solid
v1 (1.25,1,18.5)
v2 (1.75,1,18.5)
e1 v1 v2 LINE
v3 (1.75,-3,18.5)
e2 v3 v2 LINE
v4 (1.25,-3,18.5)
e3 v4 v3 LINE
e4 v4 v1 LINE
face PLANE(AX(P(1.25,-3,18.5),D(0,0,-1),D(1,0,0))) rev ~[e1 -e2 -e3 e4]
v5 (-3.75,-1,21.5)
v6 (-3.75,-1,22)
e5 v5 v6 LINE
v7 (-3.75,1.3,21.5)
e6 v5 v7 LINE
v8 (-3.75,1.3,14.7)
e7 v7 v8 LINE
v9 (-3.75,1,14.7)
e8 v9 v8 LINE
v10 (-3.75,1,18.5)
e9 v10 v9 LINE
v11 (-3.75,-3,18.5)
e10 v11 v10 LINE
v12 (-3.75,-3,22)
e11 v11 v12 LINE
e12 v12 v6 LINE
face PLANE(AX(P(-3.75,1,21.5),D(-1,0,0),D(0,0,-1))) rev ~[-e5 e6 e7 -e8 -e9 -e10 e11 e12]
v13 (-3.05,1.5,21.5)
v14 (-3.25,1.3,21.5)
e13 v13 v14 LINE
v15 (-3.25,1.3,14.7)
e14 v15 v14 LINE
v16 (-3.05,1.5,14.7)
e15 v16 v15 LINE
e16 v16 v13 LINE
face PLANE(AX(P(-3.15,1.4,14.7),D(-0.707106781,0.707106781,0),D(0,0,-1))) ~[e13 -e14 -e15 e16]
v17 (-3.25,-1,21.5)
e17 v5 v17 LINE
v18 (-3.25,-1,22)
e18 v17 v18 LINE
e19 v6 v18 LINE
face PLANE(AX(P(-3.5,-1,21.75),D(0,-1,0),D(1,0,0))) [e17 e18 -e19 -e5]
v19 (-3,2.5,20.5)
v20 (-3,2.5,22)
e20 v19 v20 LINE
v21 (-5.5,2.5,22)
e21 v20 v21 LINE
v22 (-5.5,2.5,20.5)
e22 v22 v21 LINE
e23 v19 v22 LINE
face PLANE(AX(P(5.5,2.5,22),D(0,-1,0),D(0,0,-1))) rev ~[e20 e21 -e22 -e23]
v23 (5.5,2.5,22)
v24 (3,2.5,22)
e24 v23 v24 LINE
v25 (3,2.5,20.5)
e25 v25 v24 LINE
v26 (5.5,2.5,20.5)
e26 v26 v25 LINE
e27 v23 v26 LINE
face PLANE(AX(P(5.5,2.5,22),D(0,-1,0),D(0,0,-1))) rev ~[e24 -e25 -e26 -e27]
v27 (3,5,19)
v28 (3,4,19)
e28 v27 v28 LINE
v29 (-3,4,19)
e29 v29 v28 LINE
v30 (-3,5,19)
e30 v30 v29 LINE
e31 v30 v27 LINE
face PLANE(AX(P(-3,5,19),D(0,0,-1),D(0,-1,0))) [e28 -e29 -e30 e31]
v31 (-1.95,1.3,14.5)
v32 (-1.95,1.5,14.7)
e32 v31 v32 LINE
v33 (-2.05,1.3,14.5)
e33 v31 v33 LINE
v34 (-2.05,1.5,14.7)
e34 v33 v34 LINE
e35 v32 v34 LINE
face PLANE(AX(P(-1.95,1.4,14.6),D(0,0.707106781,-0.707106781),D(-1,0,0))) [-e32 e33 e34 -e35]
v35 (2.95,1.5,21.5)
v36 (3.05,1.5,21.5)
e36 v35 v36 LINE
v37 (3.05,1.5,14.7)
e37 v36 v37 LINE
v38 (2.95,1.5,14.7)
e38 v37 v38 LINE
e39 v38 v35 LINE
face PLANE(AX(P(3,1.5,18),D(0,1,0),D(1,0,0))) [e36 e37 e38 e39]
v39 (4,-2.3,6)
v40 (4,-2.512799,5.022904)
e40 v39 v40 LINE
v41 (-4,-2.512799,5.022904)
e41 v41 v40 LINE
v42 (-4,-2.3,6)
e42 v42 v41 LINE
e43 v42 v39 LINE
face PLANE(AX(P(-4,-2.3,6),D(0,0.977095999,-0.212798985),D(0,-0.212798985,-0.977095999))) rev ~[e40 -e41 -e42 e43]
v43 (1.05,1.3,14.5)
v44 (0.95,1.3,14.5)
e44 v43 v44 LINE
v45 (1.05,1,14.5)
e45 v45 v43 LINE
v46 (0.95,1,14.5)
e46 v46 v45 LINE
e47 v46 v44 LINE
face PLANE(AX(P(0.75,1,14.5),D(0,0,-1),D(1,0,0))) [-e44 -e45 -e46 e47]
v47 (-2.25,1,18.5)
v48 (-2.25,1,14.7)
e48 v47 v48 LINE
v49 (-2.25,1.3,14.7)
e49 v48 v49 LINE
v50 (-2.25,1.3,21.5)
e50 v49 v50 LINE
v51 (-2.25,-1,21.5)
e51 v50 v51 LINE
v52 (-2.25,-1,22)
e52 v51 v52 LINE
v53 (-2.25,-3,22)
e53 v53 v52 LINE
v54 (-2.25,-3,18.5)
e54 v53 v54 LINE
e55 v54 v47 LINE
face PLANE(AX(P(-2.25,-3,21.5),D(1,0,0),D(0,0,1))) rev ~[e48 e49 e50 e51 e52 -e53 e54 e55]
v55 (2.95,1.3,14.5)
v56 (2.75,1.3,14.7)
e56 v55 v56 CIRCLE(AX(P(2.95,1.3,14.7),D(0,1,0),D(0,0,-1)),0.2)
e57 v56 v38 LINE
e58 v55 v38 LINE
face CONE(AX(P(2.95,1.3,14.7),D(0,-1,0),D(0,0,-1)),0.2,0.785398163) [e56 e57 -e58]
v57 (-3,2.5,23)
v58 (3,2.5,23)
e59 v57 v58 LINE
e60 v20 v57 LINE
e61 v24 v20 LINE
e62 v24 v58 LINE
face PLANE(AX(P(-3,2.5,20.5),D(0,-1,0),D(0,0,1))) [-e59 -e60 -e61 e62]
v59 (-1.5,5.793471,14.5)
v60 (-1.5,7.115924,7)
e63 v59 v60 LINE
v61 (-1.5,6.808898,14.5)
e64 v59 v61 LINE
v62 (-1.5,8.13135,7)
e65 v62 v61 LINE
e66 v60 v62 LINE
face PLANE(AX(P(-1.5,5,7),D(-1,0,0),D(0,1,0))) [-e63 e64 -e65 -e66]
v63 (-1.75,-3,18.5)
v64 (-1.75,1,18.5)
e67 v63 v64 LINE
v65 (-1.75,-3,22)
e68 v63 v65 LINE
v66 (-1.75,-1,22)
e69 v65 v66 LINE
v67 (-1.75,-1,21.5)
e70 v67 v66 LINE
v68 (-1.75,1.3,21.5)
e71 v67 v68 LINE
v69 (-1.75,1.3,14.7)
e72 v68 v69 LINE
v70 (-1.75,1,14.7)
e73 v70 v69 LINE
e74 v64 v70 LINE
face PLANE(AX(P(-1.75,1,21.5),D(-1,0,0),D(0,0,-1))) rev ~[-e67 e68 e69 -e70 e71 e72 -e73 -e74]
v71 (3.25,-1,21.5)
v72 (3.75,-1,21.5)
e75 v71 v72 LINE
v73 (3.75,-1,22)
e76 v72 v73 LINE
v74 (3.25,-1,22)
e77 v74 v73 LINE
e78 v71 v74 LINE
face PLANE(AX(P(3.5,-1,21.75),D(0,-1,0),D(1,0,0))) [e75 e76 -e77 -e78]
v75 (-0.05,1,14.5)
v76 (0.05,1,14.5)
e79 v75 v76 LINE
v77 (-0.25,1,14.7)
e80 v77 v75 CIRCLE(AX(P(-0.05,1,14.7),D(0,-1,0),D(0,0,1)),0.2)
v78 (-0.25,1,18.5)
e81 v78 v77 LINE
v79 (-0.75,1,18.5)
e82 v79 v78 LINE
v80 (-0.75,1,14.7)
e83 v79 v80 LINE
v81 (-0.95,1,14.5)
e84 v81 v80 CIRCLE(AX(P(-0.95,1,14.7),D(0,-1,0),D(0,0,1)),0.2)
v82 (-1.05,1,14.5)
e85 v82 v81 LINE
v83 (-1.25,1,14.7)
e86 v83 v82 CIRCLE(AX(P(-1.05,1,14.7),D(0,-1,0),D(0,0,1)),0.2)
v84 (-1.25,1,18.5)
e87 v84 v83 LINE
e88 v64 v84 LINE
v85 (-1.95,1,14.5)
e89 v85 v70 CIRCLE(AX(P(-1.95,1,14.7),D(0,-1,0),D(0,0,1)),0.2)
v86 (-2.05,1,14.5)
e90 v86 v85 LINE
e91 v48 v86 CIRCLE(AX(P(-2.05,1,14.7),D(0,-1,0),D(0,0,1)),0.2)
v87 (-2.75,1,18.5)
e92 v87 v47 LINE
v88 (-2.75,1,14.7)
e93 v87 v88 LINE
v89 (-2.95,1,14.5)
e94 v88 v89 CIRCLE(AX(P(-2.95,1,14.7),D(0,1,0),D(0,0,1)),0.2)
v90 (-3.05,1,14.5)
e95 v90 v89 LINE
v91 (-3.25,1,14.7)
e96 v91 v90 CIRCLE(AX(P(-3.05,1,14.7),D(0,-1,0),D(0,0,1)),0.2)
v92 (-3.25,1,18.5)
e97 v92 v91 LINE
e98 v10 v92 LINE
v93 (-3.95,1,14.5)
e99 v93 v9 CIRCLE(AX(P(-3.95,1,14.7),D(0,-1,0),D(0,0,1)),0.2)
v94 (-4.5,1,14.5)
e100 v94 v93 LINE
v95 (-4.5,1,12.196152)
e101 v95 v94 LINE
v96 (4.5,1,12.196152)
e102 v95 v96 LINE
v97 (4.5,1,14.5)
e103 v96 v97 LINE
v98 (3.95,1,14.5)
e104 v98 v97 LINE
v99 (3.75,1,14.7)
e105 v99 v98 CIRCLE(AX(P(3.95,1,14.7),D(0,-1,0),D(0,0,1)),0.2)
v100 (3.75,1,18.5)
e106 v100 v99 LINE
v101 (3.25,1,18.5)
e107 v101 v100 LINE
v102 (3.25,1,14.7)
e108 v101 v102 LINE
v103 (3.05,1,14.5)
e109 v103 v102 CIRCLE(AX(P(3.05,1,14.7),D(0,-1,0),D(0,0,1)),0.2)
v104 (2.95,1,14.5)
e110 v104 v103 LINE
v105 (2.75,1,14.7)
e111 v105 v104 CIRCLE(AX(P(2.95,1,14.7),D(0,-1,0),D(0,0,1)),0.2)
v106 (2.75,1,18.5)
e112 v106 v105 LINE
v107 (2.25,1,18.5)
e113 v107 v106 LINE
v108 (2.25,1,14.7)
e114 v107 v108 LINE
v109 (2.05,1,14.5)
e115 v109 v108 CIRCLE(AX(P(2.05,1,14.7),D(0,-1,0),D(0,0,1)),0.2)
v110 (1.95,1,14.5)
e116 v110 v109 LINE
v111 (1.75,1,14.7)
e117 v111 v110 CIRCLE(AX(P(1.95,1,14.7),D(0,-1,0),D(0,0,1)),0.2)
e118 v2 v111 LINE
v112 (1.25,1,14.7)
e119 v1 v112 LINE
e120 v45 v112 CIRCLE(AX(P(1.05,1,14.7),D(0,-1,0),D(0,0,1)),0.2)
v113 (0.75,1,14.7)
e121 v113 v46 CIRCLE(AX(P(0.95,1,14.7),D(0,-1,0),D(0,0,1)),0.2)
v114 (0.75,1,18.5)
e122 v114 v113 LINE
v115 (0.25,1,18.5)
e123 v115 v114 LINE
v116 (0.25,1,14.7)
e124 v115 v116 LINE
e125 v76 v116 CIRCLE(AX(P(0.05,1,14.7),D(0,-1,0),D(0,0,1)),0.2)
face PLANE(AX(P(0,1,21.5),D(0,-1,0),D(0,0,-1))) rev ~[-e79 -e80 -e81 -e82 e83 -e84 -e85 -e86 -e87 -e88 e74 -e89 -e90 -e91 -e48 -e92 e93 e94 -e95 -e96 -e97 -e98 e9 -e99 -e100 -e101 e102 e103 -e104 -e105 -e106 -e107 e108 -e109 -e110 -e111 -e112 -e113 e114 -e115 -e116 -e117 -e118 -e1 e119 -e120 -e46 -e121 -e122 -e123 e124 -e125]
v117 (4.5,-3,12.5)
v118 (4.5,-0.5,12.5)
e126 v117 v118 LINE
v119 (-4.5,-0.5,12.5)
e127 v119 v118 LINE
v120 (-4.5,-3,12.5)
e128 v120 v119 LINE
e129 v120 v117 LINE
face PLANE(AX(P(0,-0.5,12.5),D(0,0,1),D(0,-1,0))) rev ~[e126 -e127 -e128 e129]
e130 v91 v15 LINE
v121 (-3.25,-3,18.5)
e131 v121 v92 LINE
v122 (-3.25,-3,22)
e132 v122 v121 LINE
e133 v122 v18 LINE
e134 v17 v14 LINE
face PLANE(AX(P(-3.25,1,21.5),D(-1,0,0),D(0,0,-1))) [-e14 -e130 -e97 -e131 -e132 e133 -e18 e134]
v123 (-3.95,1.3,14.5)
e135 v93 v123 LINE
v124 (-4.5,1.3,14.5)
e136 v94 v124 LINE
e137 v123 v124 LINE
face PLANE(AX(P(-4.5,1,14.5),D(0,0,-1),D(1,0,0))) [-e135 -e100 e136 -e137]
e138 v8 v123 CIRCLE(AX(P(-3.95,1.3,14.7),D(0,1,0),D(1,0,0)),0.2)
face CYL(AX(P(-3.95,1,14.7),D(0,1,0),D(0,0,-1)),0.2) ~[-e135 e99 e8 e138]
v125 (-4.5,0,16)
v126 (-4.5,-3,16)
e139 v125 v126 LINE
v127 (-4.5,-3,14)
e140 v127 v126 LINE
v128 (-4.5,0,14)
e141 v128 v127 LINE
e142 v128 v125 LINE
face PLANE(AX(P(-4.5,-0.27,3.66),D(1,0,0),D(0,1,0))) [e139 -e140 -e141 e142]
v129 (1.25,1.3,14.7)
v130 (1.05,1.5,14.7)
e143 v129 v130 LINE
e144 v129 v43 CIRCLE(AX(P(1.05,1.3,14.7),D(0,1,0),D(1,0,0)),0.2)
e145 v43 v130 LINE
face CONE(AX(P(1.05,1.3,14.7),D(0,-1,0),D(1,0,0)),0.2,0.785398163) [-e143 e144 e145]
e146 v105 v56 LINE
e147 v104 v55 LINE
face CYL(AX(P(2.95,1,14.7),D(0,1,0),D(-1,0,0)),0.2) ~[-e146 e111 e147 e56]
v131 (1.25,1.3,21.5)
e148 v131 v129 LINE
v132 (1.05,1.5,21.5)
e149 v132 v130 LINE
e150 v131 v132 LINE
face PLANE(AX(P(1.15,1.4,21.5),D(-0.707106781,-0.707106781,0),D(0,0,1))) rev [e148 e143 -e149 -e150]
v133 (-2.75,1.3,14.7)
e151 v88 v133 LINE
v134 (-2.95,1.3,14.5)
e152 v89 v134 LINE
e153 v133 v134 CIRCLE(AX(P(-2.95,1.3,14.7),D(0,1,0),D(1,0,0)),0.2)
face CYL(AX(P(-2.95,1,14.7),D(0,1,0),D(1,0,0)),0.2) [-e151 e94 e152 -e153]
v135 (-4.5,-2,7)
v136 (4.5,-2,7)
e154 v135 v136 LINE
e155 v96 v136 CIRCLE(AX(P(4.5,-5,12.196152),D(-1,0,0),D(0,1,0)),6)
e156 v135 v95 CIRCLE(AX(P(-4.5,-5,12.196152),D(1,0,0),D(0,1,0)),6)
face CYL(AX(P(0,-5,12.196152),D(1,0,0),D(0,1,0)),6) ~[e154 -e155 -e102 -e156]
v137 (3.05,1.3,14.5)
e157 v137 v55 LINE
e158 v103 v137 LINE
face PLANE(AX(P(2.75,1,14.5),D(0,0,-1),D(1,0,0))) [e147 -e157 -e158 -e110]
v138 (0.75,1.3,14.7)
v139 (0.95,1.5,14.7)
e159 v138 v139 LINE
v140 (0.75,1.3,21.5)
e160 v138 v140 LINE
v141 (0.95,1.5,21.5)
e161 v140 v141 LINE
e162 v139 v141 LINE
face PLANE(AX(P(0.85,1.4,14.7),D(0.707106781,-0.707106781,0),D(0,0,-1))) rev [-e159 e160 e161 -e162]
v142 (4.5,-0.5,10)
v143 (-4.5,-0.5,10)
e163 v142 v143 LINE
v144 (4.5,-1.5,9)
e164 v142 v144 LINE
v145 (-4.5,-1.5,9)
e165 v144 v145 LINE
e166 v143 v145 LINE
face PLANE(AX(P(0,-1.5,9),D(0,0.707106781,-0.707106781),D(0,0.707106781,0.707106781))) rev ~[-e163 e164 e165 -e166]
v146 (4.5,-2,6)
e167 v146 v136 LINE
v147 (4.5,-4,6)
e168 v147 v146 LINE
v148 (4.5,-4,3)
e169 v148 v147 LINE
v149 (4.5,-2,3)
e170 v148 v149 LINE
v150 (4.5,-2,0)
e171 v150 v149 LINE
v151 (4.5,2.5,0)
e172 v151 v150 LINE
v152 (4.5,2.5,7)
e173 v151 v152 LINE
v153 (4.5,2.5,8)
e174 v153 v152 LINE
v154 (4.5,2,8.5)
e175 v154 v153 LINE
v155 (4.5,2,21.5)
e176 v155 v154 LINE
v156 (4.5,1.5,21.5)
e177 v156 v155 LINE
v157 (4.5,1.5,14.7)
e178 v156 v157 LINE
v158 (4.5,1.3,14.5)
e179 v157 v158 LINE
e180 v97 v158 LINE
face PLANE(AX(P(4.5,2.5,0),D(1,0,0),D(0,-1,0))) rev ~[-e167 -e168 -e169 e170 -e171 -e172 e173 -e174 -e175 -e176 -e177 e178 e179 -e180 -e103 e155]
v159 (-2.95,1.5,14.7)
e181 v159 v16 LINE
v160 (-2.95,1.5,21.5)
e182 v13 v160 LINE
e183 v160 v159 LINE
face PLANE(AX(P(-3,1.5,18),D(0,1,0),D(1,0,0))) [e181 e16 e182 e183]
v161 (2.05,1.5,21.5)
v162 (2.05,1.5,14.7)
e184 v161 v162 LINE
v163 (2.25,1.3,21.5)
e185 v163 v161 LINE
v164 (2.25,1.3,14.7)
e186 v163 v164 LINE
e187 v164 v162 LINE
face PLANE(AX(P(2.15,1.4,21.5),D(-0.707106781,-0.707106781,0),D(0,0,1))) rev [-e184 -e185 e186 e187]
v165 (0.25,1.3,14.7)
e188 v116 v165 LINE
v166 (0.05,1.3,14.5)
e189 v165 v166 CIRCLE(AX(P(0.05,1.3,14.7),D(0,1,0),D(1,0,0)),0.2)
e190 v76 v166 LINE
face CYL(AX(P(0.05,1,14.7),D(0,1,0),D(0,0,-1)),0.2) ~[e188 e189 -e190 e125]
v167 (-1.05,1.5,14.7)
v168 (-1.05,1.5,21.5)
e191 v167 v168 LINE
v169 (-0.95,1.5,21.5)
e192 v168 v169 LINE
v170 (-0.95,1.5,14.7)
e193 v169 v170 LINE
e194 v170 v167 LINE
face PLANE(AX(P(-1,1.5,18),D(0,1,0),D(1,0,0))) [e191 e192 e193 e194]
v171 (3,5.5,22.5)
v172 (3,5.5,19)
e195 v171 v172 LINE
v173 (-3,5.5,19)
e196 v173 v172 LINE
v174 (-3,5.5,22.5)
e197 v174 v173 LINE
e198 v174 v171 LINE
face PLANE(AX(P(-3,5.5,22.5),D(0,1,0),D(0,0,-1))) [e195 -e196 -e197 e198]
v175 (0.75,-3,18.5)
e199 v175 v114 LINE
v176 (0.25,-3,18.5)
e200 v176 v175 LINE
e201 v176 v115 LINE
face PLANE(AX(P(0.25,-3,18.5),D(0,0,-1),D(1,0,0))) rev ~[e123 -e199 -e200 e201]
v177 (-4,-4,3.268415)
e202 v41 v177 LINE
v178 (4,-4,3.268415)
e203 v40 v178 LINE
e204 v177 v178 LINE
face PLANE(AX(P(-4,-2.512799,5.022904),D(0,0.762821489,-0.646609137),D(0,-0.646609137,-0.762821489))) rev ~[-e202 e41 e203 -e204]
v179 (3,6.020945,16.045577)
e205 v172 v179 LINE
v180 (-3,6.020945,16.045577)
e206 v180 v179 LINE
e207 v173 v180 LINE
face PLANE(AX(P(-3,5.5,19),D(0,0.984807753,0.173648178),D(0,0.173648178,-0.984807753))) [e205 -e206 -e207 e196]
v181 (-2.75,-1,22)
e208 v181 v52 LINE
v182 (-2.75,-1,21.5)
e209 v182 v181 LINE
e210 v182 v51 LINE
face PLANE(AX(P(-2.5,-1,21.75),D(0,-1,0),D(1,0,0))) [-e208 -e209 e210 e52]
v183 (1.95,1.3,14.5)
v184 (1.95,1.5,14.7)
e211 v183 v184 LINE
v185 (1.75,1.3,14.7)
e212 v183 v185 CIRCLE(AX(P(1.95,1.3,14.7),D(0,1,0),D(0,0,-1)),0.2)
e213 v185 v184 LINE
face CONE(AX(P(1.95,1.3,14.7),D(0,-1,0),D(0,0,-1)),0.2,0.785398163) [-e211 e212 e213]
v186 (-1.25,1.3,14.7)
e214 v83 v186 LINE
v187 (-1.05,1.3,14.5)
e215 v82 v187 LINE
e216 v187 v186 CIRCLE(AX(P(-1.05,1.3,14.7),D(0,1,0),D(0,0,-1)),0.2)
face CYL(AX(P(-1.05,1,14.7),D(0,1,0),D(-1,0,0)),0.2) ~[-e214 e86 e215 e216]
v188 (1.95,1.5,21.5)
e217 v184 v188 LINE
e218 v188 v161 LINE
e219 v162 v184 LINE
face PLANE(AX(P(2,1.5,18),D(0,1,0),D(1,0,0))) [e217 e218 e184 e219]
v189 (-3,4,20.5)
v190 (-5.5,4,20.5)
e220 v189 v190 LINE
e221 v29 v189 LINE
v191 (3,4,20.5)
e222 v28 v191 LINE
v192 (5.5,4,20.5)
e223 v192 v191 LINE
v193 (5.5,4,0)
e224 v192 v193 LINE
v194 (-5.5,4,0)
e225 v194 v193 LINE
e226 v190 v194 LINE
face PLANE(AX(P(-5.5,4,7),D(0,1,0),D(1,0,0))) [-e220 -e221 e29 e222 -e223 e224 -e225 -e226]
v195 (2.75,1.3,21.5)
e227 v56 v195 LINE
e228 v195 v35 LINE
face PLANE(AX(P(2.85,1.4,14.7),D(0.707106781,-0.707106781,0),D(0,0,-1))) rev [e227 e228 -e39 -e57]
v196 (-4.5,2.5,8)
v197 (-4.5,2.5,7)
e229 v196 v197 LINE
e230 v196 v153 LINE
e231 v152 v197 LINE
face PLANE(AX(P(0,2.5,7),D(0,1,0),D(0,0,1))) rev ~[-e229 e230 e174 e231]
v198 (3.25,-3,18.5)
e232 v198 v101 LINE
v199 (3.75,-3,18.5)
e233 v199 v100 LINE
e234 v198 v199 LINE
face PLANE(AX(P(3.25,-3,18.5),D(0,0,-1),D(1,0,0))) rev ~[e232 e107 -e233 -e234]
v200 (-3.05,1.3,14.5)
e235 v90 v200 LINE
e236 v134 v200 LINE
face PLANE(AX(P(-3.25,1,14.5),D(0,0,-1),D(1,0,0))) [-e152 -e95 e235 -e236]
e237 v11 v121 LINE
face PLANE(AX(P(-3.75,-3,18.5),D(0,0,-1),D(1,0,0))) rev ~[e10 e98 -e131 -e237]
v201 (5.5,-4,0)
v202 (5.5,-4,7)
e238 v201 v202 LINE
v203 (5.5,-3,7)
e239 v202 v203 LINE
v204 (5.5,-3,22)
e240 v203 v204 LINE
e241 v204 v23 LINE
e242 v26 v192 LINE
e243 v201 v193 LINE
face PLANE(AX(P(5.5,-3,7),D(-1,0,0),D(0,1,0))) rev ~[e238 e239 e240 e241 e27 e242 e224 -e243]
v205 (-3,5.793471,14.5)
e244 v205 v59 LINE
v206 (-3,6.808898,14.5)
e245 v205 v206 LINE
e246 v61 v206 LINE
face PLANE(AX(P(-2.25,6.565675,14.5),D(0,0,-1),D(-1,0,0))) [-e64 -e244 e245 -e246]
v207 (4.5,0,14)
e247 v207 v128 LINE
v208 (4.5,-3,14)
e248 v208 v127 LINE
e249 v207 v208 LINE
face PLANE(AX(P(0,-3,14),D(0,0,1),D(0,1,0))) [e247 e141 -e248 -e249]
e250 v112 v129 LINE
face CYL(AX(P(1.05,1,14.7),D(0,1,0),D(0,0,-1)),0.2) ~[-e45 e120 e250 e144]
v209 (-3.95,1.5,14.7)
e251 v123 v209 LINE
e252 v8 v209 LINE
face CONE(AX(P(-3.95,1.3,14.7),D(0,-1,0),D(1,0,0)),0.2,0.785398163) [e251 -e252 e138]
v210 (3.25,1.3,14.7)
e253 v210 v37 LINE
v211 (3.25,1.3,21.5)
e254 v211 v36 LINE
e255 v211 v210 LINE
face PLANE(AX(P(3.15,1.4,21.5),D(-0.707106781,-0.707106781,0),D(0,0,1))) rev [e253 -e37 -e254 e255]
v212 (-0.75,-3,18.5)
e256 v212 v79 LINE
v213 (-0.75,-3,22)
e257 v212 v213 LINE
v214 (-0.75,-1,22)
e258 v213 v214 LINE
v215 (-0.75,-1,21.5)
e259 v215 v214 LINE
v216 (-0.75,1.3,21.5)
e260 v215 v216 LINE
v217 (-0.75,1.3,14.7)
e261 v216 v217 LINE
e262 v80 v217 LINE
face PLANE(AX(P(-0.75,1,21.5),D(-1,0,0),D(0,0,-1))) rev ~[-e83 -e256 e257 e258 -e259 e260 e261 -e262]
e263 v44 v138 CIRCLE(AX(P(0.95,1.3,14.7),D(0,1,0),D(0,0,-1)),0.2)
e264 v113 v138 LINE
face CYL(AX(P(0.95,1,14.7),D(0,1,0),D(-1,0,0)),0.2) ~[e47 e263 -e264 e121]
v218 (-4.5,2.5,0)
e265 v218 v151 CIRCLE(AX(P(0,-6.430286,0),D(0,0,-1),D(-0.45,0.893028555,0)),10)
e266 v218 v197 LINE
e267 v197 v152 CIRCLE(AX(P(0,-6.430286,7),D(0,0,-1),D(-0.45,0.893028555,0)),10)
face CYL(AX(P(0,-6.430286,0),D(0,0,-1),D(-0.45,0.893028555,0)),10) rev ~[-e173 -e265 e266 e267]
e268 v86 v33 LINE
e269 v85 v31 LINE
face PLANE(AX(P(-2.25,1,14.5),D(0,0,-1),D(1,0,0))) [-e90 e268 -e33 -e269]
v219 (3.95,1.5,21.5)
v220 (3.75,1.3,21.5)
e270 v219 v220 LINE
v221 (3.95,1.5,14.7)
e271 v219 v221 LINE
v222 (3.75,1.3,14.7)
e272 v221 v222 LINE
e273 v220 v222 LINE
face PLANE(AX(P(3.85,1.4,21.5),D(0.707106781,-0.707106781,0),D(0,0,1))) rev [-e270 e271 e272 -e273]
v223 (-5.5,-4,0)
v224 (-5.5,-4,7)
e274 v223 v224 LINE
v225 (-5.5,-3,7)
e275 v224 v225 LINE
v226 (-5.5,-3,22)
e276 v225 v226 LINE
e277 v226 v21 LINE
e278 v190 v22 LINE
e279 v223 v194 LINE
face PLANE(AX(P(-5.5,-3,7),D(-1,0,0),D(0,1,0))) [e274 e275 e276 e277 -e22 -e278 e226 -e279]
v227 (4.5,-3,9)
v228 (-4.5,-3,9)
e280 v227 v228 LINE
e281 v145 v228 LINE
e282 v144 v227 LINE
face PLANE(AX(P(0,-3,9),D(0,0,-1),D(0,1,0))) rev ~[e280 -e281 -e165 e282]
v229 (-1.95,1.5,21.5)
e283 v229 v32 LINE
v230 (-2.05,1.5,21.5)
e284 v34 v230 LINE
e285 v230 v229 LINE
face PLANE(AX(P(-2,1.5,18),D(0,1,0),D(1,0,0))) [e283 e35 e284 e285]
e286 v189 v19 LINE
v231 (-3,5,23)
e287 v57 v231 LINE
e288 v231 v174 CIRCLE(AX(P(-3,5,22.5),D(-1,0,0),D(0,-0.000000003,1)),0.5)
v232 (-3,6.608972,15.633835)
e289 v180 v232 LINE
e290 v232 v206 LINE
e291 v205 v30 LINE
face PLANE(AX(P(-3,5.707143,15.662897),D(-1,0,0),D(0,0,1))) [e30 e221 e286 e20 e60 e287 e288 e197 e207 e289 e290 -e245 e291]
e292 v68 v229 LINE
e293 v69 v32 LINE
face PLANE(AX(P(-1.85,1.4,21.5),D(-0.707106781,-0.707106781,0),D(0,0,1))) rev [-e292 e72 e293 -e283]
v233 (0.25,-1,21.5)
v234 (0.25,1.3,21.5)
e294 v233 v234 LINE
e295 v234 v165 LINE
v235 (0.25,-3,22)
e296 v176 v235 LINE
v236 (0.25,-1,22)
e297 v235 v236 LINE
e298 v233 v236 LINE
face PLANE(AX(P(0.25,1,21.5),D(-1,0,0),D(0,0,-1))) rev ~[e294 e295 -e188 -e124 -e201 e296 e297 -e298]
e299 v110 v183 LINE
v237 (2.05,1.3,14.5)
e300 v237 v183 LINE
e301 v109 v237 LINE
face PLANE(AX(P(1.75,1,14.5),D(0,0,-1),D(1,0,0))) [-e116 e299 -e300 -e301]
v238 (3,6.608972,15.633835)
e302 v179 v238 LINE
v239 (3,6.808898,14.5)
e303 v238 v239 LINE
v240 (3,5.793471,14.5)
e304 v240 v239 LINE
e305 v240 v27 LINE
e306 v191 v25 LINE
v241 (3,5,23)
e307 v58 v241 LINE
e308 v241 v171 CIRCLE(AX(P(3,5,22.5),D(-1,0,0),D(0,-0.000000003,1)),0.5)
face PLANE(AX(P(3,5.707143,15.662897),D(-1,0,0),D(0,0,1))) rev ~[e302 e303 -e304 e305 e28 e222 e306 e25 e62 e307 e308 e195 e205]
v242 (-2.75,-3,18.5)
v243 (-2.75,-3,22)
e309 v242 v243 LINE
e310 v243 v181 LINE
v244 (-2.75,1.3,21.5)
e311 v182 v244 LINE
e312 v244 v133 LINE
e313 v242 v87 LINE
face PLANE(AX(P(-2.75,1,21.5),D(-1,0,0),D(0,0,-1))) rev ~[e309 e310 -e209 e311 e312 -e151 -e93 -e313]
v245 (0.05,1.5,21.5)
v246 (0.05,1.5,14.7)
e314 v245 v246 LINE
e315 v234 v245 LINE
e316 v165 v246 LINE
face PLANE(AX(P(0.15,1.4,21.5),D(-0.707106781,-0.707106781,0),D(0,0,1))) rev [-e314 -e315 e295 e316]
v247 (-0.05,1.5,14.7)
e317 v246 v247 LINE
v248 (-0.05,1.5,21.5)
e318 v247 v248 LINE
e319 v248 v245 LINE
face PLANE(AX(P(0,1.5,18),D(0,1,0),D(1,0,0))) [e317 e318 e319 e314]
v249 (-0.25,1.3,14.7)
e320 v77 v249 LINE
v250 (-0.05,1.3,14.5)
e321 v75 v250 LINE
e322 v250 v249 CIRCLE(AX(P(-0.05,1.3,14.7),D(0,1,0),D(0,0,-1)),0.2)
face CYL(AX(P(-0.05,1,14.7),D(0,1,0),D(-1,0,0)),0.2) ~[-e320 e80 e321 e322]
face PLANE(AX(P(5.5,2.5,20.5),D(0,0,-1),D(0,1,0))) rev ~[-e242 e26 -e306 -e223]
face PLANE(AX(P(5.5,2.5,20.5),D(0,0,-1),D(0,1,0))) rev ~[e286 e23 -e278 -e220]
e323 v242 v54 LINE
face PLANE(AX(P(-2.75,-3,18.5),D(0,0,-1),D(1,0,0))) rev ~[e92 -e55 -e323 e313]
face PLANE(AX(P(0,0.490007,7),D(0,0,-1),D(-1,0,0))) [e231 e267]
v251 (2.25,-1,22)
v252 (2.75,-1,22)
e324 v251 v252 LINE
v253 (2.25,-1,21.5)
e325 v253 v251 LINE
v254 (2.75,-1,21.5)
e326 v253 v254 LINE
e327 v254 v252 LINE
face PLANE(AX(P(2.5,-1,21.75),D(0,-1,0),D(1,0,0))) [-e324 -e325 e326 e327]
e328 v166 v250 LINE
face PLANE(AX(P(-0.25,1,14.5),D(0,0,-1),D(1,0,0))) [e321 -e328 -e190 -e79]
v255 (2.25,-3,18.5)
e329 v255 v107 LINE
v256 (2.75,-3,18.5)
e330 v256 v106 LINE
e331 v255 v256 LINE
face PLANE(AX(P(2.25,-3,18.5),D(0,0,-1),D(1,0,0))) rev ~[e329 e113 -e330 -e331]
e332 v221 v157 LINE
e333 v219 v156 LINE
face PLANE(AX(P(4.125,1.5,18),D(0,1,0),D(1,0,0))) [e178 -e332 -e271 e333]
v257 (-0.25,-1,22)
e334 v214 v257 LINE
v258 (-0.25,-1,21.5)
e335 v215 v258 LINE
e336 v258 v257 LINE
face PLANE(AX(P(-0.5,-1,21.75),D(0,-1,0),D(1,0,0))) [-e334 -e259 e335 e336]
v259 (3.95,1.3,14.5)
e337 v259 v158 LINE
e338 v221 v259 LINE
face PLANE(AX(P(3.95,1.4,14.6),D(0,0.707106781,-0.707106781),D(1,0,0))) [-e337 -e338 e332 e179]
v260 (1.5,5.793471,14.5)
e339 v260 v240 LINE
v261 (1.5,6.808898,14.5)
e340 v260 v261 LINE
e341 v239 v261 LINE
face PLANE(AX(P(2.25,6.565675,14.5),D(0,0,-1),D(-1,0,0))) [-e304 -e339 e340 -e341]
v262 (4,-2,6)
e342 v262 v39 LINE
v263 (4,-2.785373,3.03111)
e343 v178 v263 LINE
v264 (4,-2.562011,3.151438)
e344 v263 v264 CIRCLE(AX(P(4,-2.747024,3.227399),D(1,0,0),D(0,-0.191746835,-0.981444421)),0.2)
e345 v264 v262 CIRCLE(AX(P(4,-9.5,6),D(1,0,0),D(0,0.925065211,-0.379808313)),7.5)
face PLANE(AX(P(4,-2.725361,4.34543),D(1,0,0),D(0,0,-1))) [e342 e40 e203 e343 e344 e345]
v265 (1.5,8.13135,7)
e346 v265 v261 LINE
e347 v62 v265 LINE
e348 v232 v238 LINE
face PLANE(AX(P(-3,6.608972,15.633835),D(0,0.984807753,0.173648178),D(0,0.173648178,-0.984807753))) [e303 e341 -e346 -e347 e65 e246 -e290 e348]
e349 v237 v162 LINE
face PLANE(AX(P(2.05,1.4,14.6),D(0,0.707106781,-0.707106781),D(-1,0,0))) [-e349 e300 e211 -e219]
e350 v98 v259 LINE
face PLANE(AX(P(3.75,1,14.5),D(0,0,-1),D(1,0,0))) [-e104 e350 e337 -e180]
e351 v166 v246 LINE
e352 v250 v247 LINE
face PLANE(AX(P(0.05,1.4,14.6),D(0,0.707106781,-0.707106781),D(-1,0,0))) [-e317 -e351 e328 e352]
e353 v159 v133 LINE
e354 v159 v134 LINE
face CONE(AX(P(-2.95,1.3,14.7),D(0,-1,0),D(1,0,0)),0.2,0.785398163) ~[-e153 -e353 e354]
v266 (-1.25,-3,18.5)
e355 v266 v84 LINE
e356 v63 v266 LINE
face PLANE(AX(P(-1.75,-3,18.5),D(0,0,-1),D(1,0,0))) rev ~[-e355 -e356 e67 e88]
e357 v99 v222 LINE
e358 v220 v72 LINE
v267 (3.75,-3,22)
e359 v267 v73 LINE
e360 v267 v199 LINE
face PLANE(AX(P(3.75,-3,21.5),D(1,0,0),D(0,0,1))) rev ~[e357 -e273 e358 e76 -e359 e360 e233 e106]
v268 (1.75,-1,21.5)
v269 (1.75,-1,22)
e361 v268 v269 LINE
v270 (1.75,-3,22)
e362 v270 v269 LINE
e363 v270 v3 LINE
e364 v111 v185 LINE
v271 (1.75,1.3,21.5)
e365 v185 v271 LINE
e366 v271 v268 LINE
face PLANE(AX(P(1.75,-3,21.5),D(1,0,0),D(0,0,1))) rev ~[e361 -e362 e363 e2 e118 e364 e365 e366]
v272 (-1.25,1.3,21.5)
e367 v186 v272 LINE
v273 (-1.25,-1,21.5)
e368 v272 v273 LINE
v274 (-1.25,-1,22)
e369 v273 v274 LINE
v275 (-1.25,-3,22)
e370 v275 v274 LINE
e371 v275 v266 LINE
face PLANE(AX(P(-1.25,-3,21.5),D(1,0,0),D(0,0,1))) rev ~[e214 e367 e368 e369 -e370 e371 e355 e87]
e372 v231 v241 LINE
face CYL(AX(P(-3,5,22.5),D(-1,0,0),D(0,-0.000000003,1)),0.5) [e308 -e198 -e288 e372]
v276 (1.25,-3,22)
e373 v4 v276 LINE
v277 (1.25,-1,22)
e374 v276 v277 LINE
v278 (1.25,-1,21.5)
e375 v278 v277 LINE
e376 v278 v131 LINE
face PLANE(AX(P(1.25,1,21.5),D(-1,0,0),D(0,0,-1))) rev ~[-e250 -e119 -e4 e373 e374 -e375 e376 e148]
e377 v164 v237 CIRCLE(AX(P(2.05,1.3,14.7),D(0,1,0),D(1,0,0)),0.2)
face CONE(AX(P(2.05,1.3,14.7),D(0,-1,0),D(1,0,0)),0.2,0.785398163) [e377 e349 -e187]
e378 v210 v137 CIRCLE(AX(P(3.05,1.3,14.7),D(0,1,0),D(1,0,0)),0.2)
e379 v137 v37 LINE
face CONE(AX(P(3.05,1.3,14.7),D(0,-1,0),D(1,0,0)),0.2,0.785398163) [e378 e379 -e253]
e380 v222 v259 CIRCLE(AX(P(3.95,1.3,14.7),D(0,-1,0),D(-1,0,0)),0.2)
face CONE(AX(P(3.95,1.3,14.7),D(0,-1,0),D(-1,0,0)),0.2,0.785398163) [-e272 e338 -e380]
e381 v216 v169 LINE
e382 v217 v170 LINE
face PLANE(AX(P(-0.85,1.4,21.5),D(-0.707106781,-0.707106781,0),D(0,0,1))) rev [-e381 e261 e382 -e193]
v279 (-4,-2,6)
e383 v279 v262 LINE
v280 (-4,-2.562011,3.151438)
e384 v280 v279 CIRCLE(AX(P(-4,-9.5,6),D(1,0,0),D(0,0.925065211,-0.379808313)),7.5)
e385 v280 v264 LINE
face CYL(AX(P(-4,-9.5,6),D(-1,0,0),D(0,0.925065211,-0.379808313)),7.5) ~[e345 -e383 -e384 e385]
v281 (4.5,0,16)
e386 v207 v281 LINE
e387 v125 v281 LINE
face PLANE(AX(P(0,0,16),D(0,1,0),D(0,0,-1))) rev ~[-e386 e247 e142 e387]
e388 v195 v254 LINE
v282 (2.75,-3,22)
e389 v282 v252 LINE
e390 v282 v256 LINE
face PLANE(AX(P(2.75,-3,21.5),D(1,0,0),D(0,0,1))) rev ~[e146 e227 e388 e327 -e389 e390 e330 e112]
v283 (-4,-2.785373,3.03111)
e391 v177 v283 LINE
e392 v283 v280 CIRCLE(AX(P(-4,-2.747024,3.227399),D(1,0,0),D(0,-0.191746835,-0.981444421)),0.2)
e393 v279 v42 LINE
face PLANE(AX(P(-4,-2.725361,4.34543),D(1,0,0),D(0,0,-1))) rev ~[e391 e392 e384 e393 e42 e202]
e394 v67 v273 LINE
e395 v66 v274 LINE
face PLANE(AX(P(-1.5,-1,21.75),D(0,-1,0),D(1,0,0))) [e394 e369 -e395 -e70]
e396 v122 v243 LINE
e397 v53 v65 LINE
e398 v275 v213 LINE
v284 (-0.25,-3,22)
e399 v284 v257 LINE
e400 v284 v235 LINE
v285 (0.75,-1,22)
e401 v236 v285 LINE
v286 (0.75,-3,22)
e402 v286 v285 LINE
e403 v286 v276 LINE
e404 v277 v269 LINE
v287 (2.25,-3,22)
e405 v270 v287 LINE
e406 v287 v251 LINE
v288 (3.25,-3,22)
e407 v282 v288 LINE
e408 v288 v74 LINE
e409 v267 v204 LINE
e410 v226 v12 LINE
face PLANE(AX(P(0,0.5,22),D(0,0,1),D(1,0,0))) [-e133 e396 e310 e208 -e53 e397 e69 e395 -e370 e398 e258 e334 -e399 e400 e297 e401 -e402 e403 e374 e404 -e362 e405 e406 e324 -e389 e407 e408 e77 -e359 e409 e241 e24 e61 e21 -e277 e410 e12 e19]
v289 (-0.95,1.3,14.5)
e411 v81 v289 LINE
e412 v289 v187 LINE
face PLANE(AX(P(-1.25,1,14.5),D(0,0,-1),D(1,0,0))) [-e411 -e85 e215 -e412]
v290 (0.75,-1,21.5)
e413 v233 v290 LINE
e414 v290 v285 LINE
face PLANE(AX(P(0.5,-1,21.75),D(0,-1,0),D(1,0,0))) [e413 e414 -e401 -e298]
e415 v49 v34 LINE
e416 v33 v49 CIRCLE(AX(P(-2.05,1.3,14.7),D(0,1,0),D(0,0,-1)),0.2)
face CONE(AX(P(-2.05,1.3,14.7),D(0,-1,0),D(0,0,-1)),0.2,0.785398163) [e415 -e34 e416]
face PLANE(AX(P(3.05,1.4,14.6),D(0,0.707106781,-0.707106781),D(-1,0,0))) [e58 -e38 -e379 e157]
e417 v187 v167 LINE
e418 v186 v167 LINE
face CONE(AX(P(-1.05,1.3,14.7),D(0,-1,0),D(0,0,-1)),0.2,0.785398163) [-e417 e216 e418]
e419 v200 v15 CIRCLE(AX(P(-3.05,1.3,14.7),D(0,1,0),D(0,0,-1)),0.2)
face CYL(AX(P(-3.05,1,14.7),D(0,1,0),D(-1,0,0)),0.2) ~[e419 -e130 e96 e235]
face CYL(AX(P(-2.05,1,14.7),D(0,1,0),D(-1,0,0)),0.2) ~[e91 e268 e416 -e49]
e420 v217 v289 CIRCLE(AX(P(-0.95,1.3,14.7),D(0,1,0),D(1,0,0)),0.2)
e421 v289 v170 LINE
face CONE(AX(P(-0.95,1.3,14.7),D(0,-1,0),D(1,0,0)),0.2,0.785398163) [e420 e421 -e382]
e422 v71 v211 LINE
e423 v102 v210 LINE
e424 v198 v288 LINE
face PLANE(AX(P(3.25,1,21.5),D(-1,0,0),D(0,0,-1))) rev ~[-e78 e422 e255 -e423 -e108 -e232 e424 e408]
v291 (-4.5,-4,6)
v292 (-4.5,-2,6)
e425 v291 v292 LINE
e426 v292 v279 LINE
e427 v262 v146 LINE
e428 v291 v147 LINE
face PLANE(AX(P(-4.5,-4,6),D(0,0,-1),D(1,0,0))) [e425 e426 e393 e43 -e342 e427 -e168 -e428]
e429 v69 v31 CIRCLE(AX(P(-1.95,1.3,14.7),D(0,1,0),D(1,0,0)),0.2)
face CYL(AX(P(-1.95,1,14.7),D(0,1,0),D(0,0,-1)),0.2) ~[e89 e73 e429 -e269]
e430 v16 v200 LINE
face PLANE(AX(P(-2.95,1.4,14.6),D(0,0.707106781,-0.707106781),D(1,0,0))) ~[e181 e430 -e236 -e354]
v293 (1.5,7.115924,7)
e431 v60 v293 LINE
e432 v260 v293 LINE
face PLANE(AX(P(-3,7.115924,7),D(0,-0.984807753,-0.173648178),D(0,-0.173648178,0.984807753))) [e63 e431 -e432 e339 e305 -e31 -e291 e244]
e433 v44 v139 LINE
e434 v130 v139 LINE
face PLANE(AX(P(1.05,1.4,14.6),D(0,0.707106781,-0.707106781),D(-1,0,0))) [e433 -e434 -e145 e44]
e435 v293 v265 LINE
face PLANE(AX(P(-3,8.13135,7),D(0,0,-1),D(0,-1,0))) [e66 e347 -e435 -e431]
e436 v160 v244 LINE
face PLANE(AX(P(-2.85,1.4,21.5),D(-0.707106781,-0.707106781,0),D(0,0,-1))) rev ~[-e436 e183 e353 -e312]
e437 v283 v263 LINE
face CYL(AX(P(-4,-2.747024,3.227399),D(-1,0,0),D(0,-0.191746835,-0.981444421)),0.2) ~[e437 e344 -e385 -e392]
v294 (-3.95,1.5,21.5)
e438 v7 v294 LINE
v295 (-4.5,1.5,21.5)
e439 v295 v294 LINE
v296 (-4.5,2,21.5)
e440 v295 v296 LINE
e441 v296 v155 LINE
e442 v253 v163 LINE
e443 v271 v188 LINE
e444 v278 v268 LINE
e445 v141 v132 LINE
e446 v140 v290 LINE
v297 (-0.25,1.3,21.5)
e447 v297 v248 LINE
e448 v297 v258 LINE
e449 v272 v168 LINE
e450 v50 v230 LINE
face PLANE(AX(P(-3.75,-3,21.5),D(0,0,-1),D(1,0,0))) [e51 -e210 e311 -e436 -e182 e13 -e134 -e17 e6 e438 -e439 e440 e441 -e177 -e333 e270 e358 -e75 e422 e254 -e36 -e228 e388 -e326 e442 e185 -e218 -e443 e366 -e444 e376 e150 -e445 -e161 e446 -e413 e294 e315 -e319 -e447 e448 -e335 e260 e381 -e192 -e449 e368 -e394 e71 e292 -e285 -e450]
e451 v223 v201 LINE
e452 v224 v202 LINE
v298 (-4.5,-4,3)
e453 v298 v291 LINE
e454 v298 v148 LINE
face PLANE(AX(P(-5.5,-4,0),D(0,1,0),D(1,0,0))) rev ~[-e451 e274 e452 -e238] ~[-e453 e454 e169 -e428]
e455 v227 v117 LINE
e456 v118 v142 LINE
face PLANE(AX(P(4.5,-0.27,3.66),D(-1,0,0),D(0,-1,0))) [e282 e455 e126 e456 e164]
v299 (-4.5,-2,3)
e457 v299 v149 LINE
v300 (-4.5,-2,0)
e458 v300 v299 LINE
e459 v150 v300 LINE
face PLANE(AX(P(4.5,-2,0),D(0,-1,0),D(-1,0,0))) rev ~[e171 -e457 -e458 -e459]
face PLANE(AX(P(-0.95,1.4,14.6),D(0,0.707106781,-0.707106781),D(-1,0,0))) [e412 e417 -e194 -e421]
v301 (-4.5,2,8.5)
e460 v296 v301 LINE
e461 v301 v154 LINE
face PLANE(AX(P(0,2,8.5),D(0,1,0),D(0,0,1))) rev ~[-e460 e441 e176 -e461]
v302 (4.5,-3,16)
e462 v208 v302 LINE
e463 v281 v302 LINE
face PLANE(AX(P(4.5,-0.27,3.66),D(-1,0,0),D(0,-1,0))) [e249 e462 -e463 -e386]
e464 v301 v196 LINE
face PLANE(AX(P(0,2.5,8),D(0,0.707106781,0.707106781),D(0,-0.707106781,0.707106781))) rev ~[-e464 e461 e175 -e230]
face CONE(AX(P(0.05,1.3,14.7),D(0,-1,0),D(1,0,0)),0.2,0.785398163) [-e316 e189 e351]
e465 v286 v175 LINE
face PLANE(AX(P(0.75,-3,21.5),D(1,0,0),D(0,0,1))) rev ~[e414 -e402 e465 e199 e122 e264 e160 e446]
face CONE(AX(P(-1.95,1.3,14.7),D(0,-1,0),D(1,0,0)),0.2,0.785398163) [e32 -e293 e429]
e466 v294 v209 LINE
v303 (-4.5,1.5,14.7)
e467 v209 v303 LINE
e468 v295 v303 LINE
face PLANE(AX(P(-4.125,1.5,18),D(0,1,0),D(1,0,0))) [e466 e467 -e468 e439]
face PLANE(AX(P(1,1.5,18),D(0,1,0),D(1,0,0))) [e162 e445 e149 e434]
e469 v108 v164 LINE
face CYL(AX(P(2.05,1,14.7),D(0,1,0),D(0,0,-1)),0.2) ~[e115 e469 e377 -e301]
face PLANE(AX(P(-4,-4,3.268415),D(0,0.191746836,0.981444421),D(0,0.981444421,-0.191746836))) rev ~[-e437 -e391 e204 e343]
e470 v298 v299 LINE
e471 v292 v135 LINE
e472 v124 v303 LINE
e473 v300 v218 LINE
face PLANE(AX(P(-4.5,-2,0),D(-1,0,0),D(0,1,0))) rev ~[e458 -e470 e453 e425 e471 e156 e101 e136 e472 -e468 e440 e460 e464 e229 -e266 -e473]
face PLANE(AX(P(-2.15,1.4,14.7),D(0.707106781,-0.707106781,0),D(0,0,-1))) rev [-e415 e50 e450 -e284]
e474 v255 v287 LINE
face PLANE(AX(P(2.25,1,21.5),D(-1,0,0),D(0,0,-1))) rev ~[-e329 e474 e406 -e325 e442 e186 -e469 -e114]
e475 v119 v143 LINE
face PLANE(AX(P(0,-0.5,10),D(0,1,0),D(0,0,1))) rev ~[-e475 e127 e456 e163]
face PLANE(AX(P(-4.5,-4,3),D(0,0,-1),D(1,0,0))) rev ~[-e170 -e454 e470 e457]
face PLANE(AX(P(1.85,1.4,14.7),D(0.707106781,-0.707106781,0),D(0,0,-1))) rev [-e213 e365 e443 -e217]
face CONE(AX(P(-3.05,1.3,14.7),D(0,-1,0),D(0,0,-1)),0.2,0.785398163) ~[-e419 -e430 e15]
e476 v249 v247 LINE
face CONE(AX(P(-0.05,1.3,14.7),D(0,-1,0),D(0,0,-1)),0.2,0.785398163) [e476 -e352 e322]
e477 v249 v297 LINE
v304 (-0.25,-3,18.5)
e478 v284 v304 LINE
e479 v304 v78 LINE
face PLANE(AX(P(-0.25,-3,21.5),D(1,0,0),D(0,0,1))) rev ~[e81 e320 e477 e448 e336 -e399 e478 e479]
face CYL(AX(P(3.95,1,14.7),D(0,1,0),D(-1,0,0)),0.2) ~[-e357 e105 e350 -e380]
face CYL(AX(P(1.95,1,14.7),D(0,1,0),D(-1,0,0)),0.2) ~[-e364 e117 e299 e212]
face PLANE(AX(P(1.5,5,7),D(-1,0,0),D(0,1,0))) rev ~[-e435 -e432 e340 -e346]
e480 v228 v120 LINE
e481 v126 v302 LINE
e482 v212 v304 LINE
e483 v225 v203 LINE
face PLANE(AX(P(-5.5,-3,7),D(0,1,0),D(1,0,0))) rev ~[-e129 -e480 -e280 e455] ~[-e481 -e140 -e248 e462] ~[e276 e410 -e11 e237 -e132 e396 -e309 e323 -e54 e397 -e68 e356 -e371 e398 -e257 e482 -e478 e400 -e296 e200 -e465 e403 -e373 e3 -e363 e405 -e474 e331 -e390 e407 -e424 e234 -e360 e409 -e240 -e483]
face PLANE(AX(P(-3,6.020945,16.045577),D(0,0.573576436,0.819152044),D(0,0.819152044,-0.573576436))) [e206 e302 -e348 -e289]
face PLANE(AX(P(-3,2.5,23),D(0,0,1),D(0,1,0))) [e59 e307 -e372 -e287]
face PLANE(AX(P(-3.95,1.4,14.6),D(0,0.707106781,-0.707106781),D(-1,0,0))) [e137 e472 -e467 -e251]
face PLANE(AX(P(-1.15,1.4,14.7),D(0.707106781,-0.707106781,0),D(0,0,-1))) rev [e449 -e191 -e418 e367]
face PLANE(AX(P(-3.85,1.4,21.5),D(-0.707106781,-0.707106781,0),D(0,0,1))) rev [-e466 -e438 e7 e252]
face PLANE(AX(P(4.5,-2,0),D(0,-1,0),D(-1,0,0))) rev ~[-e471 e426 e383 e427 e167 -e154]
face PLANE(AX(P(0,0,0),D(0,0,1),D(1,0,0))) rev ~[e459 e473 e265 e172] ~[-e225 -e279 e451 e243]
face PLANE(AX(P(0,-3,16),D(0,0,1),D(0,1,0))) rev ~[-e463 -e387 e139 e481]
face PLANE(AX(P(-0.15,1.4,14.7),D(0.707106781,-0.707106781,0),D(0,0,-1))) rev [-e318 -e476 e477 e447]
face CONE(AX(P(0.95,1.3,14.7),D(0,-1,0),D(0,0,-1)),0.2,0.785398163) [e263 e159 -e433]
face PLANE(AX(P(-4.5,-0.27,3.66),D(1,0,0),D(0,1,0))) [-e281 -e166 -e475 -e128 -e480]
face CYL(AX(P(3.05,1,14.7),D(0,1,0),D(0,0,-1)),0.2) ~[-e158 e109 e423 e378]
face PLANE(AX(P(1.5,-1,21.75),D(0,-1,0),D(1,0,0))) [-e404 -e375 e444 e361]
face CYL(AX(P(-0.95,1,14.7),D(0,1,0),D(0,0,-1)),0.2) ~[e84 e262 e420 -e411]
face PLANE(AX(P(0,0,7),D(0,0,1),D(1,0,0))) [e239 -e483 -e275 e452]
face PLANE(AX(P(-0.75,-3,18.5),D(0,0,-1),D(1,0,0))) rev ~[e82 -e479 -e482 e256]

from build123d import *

# Parameters (mm, degrees)
SCHIZZO1_W                           = 11
SCHIZZO1_H                           = 8
ESTRUSIONE_ESTRUSIONE1_DEPTH         = 7
SCHIZZO2_W                           = 11
SCHIZZO2_H                           = 7
ESTRUSIONE_ESTRUSIONE2_DEPTH         = 15
TAGLIO_ESTRUSIONE1_DEPTH             = 7
SCHIZZO4_W                           = 9
SCHIZZO4_H                           = 3
TAGLIO_ESTRUSIONE2_DEPTH             = 2
TAGLIO_ESTRUSIONE3_REACH             = 25.027
SCHIZZO5_W                           = 2
SCHIZZO5_H                           = 3
TAGLIO_ESTRUSIONE3_DIRECTION_2_REACH = 25.027
SCHIZZO6_W                           = 0.5
SCHIZZO6_H                           = 3
TAGLIO_ESTRUSIONE4_DEPTH             = 4
SCHIZZO7_W                           = 0.5
SCHIZZO7_H                           = 0.5
TAGLIO_ESTRUSIONE5_DEPTH             = 2
ESTRUSIONE_ESTRUSIONE7_DEPTH         = 4
ESTRUSIONE_ESTRUSIONE7_DEPTH_BACK    = 4
SCHIZZO9_W                           = 0.5
SCHIZZO9_H                           = 7
SCHIZZO9_W_2                         = 0.75
ESTRUSIONE_ESTRUSIONE8_DEPTH         = 0.5
RACCORDO1_R                          = 0.2
SMUSSO1_SIZE                         = 0.2
SCHIZZO10_W                          = 1.5
SCHIZZO10_H                          = 1.5
TAGLIO_ESTRUSIONE6_DEPTH             = 25.919871589
ESTRUSIONE_ESTRUSIONE9_DEPTH         = 3
ESTRUSIONE_ESTRUSIONE9_DEPTH_BACK    = 3
SCHIZZO12_W                          = 1.5
SCHIZZO12_H                          = 3.13135038
TAGLIO_ESTRUSIONE7_DEPTH             = 7.5


with BuildPart() as part:
    # Schizzo1 → Estrusione-Estrusione1 (new body)
    with BuildSketch(Plane.XY):
        Rectangle(SCHIZZO1_W, SCHIZZO1_H)
    extrude(amount=ESTRUSIONE_ESTRUSIONE1_DEPTH)

    # Schizzo2 → Estrusione-Estrusione2 (add)
    with BuildSketch(Plane.XY.offset(7)):
        with Locations((0, 0.5)):
            Rectangle(SCHIZZO2_W, SCHIZZO2_H)
    extrude(amount=ESTRUSIONE_ESTRUSIONE2_DEPTH)

    # Schizzo3 → Taglio-Estrusione1 (cut)
    with BuildSketch(Plane(origin=(0, 0, 0), x_dir=(-1, 0, 0), z_dir=(0, 0, -1))):
        with BuildLine():
            Line((-4.5, 2.5), (-4.5, -2))
            Line((-4.5, -2), (4.5, -2))
            Line((4.5, -2), (4.5, 2.5))
            ThreePointArc((4.5, 2.5), (0, 3.56971445), (-4.5, 2.5))
        make_face()
    extrude(amount=-TAGLIO_ESTRUSIONE1_DEPTH, mode=Mode.SUBTRACT)

    # Schizzo4 → Taglio-Estrusione2 (cut)
    with BuildSketch(Plane.XZ.offset(4)):
        with Locations((0, 4.5)):
            Rectangle(SCHIZZO4_W, SCHIZZO4_H)
    extrude(amount=-TAGLIO_ESTRUSIONE2_DEPTH, mode=Mode.SUBTRACT)

    # Taglio-Estrusione3: up to this face of the body (flat: up to its plane)
    taglio_estrusione3_end = Plane(part.part.faces().sort_by_distance((-4.5, -0.27, 3.66))[0])
    # Schizzo5 → Taglio-Estrusione3 (cut, up to the picked face)
    with BuildSketch(Plane(origin=(0, 0, 0), x_dir=(0, 0, -1), z_dir=(1, 0, 0)), mode=Mode.PRIVATE) as taglio_estrusione3_sk1:
        with BuildLine():
            Line((-7, -2), (-7, 2.5))
            Line((-7, 2.5), (-8, 2.5))
            Line((-8, 2.5), (-8.5, 2))
            Line((-8.5, 2), (-21.5, 2))
            Line((-21.5, 2), (-21.5, 1))
            Line((-21.5, 1), (-12.196152423, 1))
            ThreePointArc((-12.196152423, 1), (-9.196152423, 0.196152423), (-7, -2))
        make_face()
    taglio_estrusione3_tool1 = split(extrude(taglio_estrusione3_sk1.sketch, amount=-TAGLIO_ESTRUSIONE3_REACH, mode=Mode.PRIVATE), bisect_by=taglio_estrusione3_end, keep=Keep.BOTH, mode=Mode.PRIVATE)
    # Schizzo5 → Taglio-Estrusione3 (cut, up to the picked face)
    with BuildSketch(Plane(origin=(0, 0, 0), x_dir=(0, 0, -1), z_dir=(1, 0, 0)), mode=Mode.PRIVATE) as taglio_estrusione3_sk2:
        Polygon((-9, -3), (-9, -1.5), (-10, -0.5), (-12.5, -0.5), (-12.5, -3), align=None)
    taglio_estrusione3_tool2 = split(extrude(taglio_estrusione3_sk2.sketch, amount=-TAGLIO_ESTRUSIONE3_REACH, mode=Mode.PRIVATE), bisect_by=taglio_estrusione3_end, keep=Keep.BOTH, mode=Mode.PRIVATE)
    # Schizzo5 → Taglio-Estrusione3 (cut, up to the picked face)
    with BuildSketch(Plane(origin=(0, 0, 0), x_dir=(0, 0, -1), z_dir=(1, 0, 0)), mode=Mode.PRIVATE) as taglio_estrusione3_sk3:
        with Locations((-15, -1.5)):
            Rectangle(SCHIZZO5_W, SCHIZZO5_H)
    taglio_estrusione3_tool3 = split(extrude(taglio_estrusione3_sk3.sketch, amount=-TAGLIO_ESTRUSIONE3_REACH, mode=Mode.PRIVATE), bisect_by=taglio_estrusione3_end, keep=Keep.BOTH, mode=Mode.PRIVATE)
    add(taglio_estrusione3_tool1.solids().sort_by(Axis((0, 1.213893, 12.650368), (-1, 0, 0)))[0], mode=Mode.SUBTRACT)
    add(taglio_estrusione3_tool2.solids().sort_by(Axis((0, -1.805556, 10.835859), (-1, 0, 0)))[0], mode=Mode.SUBTRACT)
    add(taglio_estrusione3_tool3.solids().sort_by(Axis((0, -1.5, 15), (-1, 0, 0)))[0], mode=Mode.SUBTRACT)

    # Taglio-Estrusione3 direction 2: up to this face of the body (flat: up to its plane)
    taglio_estrusione3_direction_2_end = Plane(part.part.faces().sort_by_distance((4.5, -0.27, 3.66))[0])
    # Schizzo5 → Taglio-Estrusione3 direction 2 (cut, up to the picked face)
    with BuildSketch(Plane(origin=(0, 0, 0), x_dir=(0, 0, -1), z_dir=(1, 0, 0)), mode=Mode.PRIVATE) as taglio_estrusione3_direction_2_sk1:
        with BuildLine():
            Line((-7, -2), (-7, 2.5))
            Line((-7, 2.5), (-8, 2.5))
            Line((-8, 2.5), (-8.5, 2))
            Line((-8.5, 2), (-21.5, 2))
            Line((-21.5, 2), (-21.5, 1))
            Line((-21.5, 1), (-12.196152423, 1))
            ThreePointArc((-12.196152423, 1), (-9.196152423, 0.196152423), (-7, -2))
        make_face()
    taglio_estrusione3_direction_2_tool1 = split(extrude(taglio_estrusione3_direction_2_sk1.sketch, amount=TAGLIO_ESTRUSIONE3_DIRECTION_2_REACH, mode=Mode.PRIVATE), bisect_by=taglio_estrusione3_direction_2_end, keep=Keep.BOTH, mode=Mode.PRIVATE)
    # Schizzo5 → Taglio-Estrusione3 direction 2 (cut, up to the picked face)
    with BuildSketch(Plane(origin=(0, 0, 0), x_dir=(0, 0, -1), z_dir=(1, 0, 0)), mode=Mode.PRIVATE) as taglio_estrusione3_direction_2_sk2:
        Polygon((-9, -3), (-9, -1.5), (-10, -0.5), (-12.5, -0.5), (-12.5, -3), align=None)
    taglio_estrusione3_direction_2_tool2 = split(extrude(taglio_estrusione3_direction_2_sk2.sketch, amount=TAGLIO_ESTRUSIONE3_DIRECTION_2_REACH, mode=Mode.PRIVATE), bisect_by=taglio_estrusione3_direction_2_end, keep=Keep.BOTH, mode=Mode.PRIVATE)
    # Schizzo5 → Taglio-Estrusione3 direction 2 (cut, up to the picked face)
    with BuildSketch(Plane(origin=(0, 0, 0), x_dir=(0, 0, -1), z_dir=(1, 0, 0)), mode=Mode.PRIVATE) as taglio_estrusione3_direction_2_sk3:
        with Locations((-15, -1.5)):
            Rectangle(SCHIZZO5_W, SCHIZZO5_H)
    taglio_estrusione3_direction_2_tool3 = split(extrude(taglio_estrusione3_direction_2_sk3.sketch, amount=TAGLIO_ESTRUSIONE3_DIRECTION_2_REACH, mode=Mode.PRIVATE), bisect_by=taglio_estrusione3_direction_2_end, keep=Keep.BOTH, mode=Mode.PRIVATE)
    add(taglio_estrusione3_direction_2_tool1.solids().sort_by(Axis((0, 1.213893, 12.650368), (1, 0, 0)))[0], mode=Mode.SUBTRACT)
    add(taglio_estrusione3_direction_2_tool2.solids().sort_by(Axis((0, -1.805556, 10.835859), (1, 0, 0)))[0], mode=Mode.SUBTRACT)
    add(taglio_estrusione3_direction_2_tool3.solids().sort_by(Axis((0, -1.5, 15), (1, 0, 0)))[0], mode=Mode.SUBTRACT)

    # Schizzo6 → Taglio-Estrusione4 (cut)
    with BuildSketch(Plane.XZ.offset(3)):
        with Locations((-3.5, 20)):
            Rectangle(SCHIZZO6_W, SCHIZZO6_H)
        with Locations((-2.5, 20)):
            Rectangle(SCHIZZO6_W, SCHIZZO6_H)
        with Locations((-1.5, 20)):
            Rectangle(SCHIZZO6_W, SCHIZZO6_H)
        with Locations((-0.5, 20)):
            Rectangle(SCHIZZO6_W, SCHIZZO6_H)
        with Locations((0.5, 20)):
            Rectangle(SCHIZZO6_W, SCHIZZO6_H)
        with Locations((1.5, 20)):
            Rectangle(SCHIZZO6_W, SCHIZZO6_H)
        with Locations((2.5, 20)):
            Rectangle(SCHIZZO6_W, SCHIZZO6_H)
        with Locations((3.5, 20)):
            Rectangle(SCHIZZO6_W, SCHIZZO6_H)
    extrude(amount=-TAGLIO_ESTRUSIONE4_DEPTH, mode=Mode.SUBTRACT)

    # Schizzo7 → Taglio-Estrusione5 (cut)
    with BuildSketch(Plane.XZ.offset(3)):
        with Locations((-3.5, 21.75)):
            Rectangle(SCHIZZO7_W, SCHIZZO7_H)
        with Locations((-2.5, 21.75)):
            Rectangle(SCHIZZO7_W, SCHIZZO7_H)
        with Locations((-1.5, 21.75)):
            Rectangle(SCHIZZO7_W, SCHIZZO7_H)
        with Locations((-0.5, 21.75)):
            Rectangle(SCHIZZO7_W, SCHIZZO7_H)
        with Locations((0.5, 21.75)):
            Rectangle(SCHIZZO7_W, SCHIZZO7_H)
        with Locations((1.5, 21.75)):
            Rectangle(SCHIZZO7_W, SCHIZZO7_H)
        with Locations((2.5, 21.75)):
            Rectangle(SCHIZZO7_W, SCHIZZO7_H)
        with Locations((3.5, 21.75)):
            Rectangle(SCHIZZO7_W, SCHIZZO7_H)
    extrude(amount=-TAGLIO_ESTRUSIONE5_DEPTH, mode=Mode.SUBTRACT)

    # Schizzo8 → Estrusione-Estrusione7 (add, two sides: drawn at the far end of the back side and taken through both)
    with BuildSketch(Plane(origin=(0, 0, 0), x_dir=(0, 0, -1), z_dir=(1, 0, 0)).offset(-ESTRUSIONE_ESTRUSIONE7_DEPTH_BACK)):
        with BuildLine():
            Line((-6, -2), (-6, -2.3))
            Line((-6, -2.3), (-5.022904001, -2.512798985))
            Line((-5.022904001, -2.512798985), (-3.268414576, -4))
            Line((-3.268414576, -4), (-3.031110437, -2.785373321))
            ThreePointArc((-3.031110437, -2.785373321), (-3.051323254, -2.652170285), (-3.151437659, -2.562010912))
            ThreePointArc((-3.151437659, -2.562010912), (-4.548262793, -2.141844043), (-6, -2))
        make_face()
    extrude(amount=ESTRUSIONE_ESTRUSIONE7_DEPTH + ESTRUSIONE_ESTRUSIONE7_DEPTH_BACK)

    # Schizzo9 → Estrusione-Estrusione8 (add)
    with BuildSketch(Plane(origin=(0, 1, 0), x_dir=(1, 0, 0), z_dir=(0, 1, 0))):
        with Locations((-3, -18)):
            Rectangle(SCHIZZO9_W, SCHIZZO9_H)
        with Locations((-2, -18)):
            Rectangle(SCHIZZO9_W, SCHIZZO9_H)
        with Locations((-1, -18)):
            Rectangle(SCHIZZO9_W, SCHIZZO9_H)
        with Locations((0, -18)):
            Rectangle(SCHIZZO9_W, SCHIZZO9_H)
        with Locations((1, -18)):
            Rectangle(SCHIZZO9_W, SCHIZZO9_H)
        with Locations((2, -18)):
            Rectangle(SCHIZZO9_W, SCHIZZO9_H)
        with Locations((3, -18)):
            Rectangle(SCHIZZO9_W, SCHIZZO9_H)
        with Locations((4.125, -18)):
            Rectangle(SCHIZZO9_W_2, SCHIZZO9_H)
        with Locations((-4.125, -18)):
            Rectangle(SCHIZZO9_W_2, SCHIZZO9_H)
    extrude(amount=ESTRUSIONE_ESTRUSIONE8_DEPTH)

    # Raccordo1
    raccordo1_edges = [part.edges().sort_by_distance(p)[0] for p in [
        (-3.25, 1.25, 14.5),
        (-2.75, 1.25, 14.5),
        (3.75, 1.25, 14.5),
        (-1.75, 1.25, 14.5),
        (-2.25, 1.25, 14.5),
        (-0.75, 1.25, 14.5),
        (-1.25, 1.25, 14.5),
        (0.25, 1.25, 14.5),
        (-0.25, 1.25, 14.5),
        (1.25, 1.25, 14.5),
        (0.75, 1.25, 14.5),
        (2.25, 1.25, 14.5),
        (1.75, 1.25, 14.5),
        (3.25, 1.25, 14.5),
        (2.75, 1.25, 14.5),
        (-3.75, 1.25, 14.5),
    ]]
    fillet(raccordo1_edges, radius=RACCORDO1_R)

    # Smusso1
    smusso1_edges = [part.edges().sort_by_distance(p)[0] for p in [
        (-2.75, 1.5, 18.1),
        (4.225, 1.5, 14.5),
        (-1.75, 1.5, 18.1),
        (-0.75, 1.5, 18.1),
        (0.25, 1.5, 18.1),
        (1.25, 1.5, 18.1),
        (2.25, 1.5, 18.1),
        (3.25, 1.5, 18.1),
        (-3.75, 1.5, 18.1),
        (-3.25, 1.5, 18.1),
        (-3, 1.5, 14.5),
        (-2.808578644, 1.5, 14.558578644),
        (-3.191421356, 1.5, 14.558578644),
        (-2.25, 1.5, 18.1),
        (-2, 1.5, 14.5),
        (-1.808578644, 1.5, 14.558578644),
        (-2.191421356, 1.5, 14.558578644),
        (-1.25, 1.5, 18.1),
        (-1, 1.5, 14.5),
        (-0.808578644, 1.5, 14.558578644),
        (-1.191421356, 1.5, 14.558578644),
        (-0.25, 1.5, 18.1),
        (0, 1.5, 14.5),
        (0.191421356, 1.5, 14.558578644),
        (-0.191421356, 1.5, 14.558578644),
        (0.75, 1.5, 18.1),
        (1, 1.5, 14.5),
        (1.191421356, 1.5, 14.558578644),
        (0.808578644, 1.5, 14.558578644),
        (1.75, 1.5, 18.1),
        (2, 1.5, 14.5),
        (2.191421356, 1.5, 14.558578644),
        (1.808578644, 1.5, 14.558578644),
        (2.75, 1.5, 18.1),
        (3, 1.5, 14.5),
        (3.191421356, 1.5, 14.558578644),
        (2.808578644, 1.5, 14.558578644),
        (-4.225, 1.5, 14.5),
        (-3.808578644, 1.5, 14.558578644),
        (3.75, 1.5, 18.1),
        (3.808578644, 1.5, 14.558578644),
    ]]
    chamfer(smusso1_edges, length=SMUSSO1_SIZE)

    # Schizzo10 → Taglio-Estrusione6 (cut, through all)
    with BuildSketch(Plane(origin=(5.5, 0, 0), x_dir=(0, 0, -1), z_dir=(1, 0, 0))):
        with Locations((-21.25, 3.25)):
            Rectangle(SCHIZZO10_W, SCHIZZO10_H)
    extrude(amount=-TAGLIO_ESTRUSIONE6_DEPTH, mode=Mode.SUBTRACT)

    # Schizzo11 → Estrusione-Estrusione9 (add, two sides: drawn at the far end of the back side and taken through both)
    with BuildSketch(Plane(origin=(0, 0, 0), x_dir=(0, 0, -1), z_dir=(1, 0, 0)).offset(-ESTRUSIONE_ESTRUSIONE9_DEPTH_BACK)):
        with BuildLine():
            Line((-20.5, 2.5), (-23, 2.5))
            Line((-23, 2.5), (-23, 5))
            ThreePointArc((-23, 5), (-22.853553391, 5.353553391), (-22.5, 5.5))
            Line((-22.5, 5.5), (-19, 5.5))
            Line((-19, 5.5), (-16.045576741, 6.020944533))
            Line((-16.045576741, 6.020944533), (-15.633835285, 6.608972273))
            Line((-15.633835285, 6.608972273), (-7, 8.13135038))
            Line((-7, 8.13135038), (-7, 7.115923769))
            Line((-7, 7.115923769), (-19, 5))
            Line((-19, 5), (-19, 4))
            Line((-19, 4), (-20.5, 4))
            Line((-20.5, 4), (-20.5, 2.5))
        make_face()
    extrude(amount=ESTRUSIONE_ESTRUSIONE9_DEPTH + ESTRUSIONE_ESTRUSIONE9_DEPTH_BACK)

    # Schizzo12 → Taglio-Estrusione7 (cut)
    with BuildSketch(Plane(origin=(0, 0, 7), x_dir=(-1, 0, 0), z_dir=(0, 0, -1))):
        with Locations((-2.25, 6.56567519)):
            Rectangle(SCHIZZO12_W, SCHIZZO12_H)
        with Locations((2.25, 6.56567519)):
            Rectangle(SCHIZZO12_W, SCHIZZO12_H)
    extrude(amount=-TAGLIO_ESTRUSIONE7_DEPTH, mode=Mode.SUBTRACT)


solid = part.part
